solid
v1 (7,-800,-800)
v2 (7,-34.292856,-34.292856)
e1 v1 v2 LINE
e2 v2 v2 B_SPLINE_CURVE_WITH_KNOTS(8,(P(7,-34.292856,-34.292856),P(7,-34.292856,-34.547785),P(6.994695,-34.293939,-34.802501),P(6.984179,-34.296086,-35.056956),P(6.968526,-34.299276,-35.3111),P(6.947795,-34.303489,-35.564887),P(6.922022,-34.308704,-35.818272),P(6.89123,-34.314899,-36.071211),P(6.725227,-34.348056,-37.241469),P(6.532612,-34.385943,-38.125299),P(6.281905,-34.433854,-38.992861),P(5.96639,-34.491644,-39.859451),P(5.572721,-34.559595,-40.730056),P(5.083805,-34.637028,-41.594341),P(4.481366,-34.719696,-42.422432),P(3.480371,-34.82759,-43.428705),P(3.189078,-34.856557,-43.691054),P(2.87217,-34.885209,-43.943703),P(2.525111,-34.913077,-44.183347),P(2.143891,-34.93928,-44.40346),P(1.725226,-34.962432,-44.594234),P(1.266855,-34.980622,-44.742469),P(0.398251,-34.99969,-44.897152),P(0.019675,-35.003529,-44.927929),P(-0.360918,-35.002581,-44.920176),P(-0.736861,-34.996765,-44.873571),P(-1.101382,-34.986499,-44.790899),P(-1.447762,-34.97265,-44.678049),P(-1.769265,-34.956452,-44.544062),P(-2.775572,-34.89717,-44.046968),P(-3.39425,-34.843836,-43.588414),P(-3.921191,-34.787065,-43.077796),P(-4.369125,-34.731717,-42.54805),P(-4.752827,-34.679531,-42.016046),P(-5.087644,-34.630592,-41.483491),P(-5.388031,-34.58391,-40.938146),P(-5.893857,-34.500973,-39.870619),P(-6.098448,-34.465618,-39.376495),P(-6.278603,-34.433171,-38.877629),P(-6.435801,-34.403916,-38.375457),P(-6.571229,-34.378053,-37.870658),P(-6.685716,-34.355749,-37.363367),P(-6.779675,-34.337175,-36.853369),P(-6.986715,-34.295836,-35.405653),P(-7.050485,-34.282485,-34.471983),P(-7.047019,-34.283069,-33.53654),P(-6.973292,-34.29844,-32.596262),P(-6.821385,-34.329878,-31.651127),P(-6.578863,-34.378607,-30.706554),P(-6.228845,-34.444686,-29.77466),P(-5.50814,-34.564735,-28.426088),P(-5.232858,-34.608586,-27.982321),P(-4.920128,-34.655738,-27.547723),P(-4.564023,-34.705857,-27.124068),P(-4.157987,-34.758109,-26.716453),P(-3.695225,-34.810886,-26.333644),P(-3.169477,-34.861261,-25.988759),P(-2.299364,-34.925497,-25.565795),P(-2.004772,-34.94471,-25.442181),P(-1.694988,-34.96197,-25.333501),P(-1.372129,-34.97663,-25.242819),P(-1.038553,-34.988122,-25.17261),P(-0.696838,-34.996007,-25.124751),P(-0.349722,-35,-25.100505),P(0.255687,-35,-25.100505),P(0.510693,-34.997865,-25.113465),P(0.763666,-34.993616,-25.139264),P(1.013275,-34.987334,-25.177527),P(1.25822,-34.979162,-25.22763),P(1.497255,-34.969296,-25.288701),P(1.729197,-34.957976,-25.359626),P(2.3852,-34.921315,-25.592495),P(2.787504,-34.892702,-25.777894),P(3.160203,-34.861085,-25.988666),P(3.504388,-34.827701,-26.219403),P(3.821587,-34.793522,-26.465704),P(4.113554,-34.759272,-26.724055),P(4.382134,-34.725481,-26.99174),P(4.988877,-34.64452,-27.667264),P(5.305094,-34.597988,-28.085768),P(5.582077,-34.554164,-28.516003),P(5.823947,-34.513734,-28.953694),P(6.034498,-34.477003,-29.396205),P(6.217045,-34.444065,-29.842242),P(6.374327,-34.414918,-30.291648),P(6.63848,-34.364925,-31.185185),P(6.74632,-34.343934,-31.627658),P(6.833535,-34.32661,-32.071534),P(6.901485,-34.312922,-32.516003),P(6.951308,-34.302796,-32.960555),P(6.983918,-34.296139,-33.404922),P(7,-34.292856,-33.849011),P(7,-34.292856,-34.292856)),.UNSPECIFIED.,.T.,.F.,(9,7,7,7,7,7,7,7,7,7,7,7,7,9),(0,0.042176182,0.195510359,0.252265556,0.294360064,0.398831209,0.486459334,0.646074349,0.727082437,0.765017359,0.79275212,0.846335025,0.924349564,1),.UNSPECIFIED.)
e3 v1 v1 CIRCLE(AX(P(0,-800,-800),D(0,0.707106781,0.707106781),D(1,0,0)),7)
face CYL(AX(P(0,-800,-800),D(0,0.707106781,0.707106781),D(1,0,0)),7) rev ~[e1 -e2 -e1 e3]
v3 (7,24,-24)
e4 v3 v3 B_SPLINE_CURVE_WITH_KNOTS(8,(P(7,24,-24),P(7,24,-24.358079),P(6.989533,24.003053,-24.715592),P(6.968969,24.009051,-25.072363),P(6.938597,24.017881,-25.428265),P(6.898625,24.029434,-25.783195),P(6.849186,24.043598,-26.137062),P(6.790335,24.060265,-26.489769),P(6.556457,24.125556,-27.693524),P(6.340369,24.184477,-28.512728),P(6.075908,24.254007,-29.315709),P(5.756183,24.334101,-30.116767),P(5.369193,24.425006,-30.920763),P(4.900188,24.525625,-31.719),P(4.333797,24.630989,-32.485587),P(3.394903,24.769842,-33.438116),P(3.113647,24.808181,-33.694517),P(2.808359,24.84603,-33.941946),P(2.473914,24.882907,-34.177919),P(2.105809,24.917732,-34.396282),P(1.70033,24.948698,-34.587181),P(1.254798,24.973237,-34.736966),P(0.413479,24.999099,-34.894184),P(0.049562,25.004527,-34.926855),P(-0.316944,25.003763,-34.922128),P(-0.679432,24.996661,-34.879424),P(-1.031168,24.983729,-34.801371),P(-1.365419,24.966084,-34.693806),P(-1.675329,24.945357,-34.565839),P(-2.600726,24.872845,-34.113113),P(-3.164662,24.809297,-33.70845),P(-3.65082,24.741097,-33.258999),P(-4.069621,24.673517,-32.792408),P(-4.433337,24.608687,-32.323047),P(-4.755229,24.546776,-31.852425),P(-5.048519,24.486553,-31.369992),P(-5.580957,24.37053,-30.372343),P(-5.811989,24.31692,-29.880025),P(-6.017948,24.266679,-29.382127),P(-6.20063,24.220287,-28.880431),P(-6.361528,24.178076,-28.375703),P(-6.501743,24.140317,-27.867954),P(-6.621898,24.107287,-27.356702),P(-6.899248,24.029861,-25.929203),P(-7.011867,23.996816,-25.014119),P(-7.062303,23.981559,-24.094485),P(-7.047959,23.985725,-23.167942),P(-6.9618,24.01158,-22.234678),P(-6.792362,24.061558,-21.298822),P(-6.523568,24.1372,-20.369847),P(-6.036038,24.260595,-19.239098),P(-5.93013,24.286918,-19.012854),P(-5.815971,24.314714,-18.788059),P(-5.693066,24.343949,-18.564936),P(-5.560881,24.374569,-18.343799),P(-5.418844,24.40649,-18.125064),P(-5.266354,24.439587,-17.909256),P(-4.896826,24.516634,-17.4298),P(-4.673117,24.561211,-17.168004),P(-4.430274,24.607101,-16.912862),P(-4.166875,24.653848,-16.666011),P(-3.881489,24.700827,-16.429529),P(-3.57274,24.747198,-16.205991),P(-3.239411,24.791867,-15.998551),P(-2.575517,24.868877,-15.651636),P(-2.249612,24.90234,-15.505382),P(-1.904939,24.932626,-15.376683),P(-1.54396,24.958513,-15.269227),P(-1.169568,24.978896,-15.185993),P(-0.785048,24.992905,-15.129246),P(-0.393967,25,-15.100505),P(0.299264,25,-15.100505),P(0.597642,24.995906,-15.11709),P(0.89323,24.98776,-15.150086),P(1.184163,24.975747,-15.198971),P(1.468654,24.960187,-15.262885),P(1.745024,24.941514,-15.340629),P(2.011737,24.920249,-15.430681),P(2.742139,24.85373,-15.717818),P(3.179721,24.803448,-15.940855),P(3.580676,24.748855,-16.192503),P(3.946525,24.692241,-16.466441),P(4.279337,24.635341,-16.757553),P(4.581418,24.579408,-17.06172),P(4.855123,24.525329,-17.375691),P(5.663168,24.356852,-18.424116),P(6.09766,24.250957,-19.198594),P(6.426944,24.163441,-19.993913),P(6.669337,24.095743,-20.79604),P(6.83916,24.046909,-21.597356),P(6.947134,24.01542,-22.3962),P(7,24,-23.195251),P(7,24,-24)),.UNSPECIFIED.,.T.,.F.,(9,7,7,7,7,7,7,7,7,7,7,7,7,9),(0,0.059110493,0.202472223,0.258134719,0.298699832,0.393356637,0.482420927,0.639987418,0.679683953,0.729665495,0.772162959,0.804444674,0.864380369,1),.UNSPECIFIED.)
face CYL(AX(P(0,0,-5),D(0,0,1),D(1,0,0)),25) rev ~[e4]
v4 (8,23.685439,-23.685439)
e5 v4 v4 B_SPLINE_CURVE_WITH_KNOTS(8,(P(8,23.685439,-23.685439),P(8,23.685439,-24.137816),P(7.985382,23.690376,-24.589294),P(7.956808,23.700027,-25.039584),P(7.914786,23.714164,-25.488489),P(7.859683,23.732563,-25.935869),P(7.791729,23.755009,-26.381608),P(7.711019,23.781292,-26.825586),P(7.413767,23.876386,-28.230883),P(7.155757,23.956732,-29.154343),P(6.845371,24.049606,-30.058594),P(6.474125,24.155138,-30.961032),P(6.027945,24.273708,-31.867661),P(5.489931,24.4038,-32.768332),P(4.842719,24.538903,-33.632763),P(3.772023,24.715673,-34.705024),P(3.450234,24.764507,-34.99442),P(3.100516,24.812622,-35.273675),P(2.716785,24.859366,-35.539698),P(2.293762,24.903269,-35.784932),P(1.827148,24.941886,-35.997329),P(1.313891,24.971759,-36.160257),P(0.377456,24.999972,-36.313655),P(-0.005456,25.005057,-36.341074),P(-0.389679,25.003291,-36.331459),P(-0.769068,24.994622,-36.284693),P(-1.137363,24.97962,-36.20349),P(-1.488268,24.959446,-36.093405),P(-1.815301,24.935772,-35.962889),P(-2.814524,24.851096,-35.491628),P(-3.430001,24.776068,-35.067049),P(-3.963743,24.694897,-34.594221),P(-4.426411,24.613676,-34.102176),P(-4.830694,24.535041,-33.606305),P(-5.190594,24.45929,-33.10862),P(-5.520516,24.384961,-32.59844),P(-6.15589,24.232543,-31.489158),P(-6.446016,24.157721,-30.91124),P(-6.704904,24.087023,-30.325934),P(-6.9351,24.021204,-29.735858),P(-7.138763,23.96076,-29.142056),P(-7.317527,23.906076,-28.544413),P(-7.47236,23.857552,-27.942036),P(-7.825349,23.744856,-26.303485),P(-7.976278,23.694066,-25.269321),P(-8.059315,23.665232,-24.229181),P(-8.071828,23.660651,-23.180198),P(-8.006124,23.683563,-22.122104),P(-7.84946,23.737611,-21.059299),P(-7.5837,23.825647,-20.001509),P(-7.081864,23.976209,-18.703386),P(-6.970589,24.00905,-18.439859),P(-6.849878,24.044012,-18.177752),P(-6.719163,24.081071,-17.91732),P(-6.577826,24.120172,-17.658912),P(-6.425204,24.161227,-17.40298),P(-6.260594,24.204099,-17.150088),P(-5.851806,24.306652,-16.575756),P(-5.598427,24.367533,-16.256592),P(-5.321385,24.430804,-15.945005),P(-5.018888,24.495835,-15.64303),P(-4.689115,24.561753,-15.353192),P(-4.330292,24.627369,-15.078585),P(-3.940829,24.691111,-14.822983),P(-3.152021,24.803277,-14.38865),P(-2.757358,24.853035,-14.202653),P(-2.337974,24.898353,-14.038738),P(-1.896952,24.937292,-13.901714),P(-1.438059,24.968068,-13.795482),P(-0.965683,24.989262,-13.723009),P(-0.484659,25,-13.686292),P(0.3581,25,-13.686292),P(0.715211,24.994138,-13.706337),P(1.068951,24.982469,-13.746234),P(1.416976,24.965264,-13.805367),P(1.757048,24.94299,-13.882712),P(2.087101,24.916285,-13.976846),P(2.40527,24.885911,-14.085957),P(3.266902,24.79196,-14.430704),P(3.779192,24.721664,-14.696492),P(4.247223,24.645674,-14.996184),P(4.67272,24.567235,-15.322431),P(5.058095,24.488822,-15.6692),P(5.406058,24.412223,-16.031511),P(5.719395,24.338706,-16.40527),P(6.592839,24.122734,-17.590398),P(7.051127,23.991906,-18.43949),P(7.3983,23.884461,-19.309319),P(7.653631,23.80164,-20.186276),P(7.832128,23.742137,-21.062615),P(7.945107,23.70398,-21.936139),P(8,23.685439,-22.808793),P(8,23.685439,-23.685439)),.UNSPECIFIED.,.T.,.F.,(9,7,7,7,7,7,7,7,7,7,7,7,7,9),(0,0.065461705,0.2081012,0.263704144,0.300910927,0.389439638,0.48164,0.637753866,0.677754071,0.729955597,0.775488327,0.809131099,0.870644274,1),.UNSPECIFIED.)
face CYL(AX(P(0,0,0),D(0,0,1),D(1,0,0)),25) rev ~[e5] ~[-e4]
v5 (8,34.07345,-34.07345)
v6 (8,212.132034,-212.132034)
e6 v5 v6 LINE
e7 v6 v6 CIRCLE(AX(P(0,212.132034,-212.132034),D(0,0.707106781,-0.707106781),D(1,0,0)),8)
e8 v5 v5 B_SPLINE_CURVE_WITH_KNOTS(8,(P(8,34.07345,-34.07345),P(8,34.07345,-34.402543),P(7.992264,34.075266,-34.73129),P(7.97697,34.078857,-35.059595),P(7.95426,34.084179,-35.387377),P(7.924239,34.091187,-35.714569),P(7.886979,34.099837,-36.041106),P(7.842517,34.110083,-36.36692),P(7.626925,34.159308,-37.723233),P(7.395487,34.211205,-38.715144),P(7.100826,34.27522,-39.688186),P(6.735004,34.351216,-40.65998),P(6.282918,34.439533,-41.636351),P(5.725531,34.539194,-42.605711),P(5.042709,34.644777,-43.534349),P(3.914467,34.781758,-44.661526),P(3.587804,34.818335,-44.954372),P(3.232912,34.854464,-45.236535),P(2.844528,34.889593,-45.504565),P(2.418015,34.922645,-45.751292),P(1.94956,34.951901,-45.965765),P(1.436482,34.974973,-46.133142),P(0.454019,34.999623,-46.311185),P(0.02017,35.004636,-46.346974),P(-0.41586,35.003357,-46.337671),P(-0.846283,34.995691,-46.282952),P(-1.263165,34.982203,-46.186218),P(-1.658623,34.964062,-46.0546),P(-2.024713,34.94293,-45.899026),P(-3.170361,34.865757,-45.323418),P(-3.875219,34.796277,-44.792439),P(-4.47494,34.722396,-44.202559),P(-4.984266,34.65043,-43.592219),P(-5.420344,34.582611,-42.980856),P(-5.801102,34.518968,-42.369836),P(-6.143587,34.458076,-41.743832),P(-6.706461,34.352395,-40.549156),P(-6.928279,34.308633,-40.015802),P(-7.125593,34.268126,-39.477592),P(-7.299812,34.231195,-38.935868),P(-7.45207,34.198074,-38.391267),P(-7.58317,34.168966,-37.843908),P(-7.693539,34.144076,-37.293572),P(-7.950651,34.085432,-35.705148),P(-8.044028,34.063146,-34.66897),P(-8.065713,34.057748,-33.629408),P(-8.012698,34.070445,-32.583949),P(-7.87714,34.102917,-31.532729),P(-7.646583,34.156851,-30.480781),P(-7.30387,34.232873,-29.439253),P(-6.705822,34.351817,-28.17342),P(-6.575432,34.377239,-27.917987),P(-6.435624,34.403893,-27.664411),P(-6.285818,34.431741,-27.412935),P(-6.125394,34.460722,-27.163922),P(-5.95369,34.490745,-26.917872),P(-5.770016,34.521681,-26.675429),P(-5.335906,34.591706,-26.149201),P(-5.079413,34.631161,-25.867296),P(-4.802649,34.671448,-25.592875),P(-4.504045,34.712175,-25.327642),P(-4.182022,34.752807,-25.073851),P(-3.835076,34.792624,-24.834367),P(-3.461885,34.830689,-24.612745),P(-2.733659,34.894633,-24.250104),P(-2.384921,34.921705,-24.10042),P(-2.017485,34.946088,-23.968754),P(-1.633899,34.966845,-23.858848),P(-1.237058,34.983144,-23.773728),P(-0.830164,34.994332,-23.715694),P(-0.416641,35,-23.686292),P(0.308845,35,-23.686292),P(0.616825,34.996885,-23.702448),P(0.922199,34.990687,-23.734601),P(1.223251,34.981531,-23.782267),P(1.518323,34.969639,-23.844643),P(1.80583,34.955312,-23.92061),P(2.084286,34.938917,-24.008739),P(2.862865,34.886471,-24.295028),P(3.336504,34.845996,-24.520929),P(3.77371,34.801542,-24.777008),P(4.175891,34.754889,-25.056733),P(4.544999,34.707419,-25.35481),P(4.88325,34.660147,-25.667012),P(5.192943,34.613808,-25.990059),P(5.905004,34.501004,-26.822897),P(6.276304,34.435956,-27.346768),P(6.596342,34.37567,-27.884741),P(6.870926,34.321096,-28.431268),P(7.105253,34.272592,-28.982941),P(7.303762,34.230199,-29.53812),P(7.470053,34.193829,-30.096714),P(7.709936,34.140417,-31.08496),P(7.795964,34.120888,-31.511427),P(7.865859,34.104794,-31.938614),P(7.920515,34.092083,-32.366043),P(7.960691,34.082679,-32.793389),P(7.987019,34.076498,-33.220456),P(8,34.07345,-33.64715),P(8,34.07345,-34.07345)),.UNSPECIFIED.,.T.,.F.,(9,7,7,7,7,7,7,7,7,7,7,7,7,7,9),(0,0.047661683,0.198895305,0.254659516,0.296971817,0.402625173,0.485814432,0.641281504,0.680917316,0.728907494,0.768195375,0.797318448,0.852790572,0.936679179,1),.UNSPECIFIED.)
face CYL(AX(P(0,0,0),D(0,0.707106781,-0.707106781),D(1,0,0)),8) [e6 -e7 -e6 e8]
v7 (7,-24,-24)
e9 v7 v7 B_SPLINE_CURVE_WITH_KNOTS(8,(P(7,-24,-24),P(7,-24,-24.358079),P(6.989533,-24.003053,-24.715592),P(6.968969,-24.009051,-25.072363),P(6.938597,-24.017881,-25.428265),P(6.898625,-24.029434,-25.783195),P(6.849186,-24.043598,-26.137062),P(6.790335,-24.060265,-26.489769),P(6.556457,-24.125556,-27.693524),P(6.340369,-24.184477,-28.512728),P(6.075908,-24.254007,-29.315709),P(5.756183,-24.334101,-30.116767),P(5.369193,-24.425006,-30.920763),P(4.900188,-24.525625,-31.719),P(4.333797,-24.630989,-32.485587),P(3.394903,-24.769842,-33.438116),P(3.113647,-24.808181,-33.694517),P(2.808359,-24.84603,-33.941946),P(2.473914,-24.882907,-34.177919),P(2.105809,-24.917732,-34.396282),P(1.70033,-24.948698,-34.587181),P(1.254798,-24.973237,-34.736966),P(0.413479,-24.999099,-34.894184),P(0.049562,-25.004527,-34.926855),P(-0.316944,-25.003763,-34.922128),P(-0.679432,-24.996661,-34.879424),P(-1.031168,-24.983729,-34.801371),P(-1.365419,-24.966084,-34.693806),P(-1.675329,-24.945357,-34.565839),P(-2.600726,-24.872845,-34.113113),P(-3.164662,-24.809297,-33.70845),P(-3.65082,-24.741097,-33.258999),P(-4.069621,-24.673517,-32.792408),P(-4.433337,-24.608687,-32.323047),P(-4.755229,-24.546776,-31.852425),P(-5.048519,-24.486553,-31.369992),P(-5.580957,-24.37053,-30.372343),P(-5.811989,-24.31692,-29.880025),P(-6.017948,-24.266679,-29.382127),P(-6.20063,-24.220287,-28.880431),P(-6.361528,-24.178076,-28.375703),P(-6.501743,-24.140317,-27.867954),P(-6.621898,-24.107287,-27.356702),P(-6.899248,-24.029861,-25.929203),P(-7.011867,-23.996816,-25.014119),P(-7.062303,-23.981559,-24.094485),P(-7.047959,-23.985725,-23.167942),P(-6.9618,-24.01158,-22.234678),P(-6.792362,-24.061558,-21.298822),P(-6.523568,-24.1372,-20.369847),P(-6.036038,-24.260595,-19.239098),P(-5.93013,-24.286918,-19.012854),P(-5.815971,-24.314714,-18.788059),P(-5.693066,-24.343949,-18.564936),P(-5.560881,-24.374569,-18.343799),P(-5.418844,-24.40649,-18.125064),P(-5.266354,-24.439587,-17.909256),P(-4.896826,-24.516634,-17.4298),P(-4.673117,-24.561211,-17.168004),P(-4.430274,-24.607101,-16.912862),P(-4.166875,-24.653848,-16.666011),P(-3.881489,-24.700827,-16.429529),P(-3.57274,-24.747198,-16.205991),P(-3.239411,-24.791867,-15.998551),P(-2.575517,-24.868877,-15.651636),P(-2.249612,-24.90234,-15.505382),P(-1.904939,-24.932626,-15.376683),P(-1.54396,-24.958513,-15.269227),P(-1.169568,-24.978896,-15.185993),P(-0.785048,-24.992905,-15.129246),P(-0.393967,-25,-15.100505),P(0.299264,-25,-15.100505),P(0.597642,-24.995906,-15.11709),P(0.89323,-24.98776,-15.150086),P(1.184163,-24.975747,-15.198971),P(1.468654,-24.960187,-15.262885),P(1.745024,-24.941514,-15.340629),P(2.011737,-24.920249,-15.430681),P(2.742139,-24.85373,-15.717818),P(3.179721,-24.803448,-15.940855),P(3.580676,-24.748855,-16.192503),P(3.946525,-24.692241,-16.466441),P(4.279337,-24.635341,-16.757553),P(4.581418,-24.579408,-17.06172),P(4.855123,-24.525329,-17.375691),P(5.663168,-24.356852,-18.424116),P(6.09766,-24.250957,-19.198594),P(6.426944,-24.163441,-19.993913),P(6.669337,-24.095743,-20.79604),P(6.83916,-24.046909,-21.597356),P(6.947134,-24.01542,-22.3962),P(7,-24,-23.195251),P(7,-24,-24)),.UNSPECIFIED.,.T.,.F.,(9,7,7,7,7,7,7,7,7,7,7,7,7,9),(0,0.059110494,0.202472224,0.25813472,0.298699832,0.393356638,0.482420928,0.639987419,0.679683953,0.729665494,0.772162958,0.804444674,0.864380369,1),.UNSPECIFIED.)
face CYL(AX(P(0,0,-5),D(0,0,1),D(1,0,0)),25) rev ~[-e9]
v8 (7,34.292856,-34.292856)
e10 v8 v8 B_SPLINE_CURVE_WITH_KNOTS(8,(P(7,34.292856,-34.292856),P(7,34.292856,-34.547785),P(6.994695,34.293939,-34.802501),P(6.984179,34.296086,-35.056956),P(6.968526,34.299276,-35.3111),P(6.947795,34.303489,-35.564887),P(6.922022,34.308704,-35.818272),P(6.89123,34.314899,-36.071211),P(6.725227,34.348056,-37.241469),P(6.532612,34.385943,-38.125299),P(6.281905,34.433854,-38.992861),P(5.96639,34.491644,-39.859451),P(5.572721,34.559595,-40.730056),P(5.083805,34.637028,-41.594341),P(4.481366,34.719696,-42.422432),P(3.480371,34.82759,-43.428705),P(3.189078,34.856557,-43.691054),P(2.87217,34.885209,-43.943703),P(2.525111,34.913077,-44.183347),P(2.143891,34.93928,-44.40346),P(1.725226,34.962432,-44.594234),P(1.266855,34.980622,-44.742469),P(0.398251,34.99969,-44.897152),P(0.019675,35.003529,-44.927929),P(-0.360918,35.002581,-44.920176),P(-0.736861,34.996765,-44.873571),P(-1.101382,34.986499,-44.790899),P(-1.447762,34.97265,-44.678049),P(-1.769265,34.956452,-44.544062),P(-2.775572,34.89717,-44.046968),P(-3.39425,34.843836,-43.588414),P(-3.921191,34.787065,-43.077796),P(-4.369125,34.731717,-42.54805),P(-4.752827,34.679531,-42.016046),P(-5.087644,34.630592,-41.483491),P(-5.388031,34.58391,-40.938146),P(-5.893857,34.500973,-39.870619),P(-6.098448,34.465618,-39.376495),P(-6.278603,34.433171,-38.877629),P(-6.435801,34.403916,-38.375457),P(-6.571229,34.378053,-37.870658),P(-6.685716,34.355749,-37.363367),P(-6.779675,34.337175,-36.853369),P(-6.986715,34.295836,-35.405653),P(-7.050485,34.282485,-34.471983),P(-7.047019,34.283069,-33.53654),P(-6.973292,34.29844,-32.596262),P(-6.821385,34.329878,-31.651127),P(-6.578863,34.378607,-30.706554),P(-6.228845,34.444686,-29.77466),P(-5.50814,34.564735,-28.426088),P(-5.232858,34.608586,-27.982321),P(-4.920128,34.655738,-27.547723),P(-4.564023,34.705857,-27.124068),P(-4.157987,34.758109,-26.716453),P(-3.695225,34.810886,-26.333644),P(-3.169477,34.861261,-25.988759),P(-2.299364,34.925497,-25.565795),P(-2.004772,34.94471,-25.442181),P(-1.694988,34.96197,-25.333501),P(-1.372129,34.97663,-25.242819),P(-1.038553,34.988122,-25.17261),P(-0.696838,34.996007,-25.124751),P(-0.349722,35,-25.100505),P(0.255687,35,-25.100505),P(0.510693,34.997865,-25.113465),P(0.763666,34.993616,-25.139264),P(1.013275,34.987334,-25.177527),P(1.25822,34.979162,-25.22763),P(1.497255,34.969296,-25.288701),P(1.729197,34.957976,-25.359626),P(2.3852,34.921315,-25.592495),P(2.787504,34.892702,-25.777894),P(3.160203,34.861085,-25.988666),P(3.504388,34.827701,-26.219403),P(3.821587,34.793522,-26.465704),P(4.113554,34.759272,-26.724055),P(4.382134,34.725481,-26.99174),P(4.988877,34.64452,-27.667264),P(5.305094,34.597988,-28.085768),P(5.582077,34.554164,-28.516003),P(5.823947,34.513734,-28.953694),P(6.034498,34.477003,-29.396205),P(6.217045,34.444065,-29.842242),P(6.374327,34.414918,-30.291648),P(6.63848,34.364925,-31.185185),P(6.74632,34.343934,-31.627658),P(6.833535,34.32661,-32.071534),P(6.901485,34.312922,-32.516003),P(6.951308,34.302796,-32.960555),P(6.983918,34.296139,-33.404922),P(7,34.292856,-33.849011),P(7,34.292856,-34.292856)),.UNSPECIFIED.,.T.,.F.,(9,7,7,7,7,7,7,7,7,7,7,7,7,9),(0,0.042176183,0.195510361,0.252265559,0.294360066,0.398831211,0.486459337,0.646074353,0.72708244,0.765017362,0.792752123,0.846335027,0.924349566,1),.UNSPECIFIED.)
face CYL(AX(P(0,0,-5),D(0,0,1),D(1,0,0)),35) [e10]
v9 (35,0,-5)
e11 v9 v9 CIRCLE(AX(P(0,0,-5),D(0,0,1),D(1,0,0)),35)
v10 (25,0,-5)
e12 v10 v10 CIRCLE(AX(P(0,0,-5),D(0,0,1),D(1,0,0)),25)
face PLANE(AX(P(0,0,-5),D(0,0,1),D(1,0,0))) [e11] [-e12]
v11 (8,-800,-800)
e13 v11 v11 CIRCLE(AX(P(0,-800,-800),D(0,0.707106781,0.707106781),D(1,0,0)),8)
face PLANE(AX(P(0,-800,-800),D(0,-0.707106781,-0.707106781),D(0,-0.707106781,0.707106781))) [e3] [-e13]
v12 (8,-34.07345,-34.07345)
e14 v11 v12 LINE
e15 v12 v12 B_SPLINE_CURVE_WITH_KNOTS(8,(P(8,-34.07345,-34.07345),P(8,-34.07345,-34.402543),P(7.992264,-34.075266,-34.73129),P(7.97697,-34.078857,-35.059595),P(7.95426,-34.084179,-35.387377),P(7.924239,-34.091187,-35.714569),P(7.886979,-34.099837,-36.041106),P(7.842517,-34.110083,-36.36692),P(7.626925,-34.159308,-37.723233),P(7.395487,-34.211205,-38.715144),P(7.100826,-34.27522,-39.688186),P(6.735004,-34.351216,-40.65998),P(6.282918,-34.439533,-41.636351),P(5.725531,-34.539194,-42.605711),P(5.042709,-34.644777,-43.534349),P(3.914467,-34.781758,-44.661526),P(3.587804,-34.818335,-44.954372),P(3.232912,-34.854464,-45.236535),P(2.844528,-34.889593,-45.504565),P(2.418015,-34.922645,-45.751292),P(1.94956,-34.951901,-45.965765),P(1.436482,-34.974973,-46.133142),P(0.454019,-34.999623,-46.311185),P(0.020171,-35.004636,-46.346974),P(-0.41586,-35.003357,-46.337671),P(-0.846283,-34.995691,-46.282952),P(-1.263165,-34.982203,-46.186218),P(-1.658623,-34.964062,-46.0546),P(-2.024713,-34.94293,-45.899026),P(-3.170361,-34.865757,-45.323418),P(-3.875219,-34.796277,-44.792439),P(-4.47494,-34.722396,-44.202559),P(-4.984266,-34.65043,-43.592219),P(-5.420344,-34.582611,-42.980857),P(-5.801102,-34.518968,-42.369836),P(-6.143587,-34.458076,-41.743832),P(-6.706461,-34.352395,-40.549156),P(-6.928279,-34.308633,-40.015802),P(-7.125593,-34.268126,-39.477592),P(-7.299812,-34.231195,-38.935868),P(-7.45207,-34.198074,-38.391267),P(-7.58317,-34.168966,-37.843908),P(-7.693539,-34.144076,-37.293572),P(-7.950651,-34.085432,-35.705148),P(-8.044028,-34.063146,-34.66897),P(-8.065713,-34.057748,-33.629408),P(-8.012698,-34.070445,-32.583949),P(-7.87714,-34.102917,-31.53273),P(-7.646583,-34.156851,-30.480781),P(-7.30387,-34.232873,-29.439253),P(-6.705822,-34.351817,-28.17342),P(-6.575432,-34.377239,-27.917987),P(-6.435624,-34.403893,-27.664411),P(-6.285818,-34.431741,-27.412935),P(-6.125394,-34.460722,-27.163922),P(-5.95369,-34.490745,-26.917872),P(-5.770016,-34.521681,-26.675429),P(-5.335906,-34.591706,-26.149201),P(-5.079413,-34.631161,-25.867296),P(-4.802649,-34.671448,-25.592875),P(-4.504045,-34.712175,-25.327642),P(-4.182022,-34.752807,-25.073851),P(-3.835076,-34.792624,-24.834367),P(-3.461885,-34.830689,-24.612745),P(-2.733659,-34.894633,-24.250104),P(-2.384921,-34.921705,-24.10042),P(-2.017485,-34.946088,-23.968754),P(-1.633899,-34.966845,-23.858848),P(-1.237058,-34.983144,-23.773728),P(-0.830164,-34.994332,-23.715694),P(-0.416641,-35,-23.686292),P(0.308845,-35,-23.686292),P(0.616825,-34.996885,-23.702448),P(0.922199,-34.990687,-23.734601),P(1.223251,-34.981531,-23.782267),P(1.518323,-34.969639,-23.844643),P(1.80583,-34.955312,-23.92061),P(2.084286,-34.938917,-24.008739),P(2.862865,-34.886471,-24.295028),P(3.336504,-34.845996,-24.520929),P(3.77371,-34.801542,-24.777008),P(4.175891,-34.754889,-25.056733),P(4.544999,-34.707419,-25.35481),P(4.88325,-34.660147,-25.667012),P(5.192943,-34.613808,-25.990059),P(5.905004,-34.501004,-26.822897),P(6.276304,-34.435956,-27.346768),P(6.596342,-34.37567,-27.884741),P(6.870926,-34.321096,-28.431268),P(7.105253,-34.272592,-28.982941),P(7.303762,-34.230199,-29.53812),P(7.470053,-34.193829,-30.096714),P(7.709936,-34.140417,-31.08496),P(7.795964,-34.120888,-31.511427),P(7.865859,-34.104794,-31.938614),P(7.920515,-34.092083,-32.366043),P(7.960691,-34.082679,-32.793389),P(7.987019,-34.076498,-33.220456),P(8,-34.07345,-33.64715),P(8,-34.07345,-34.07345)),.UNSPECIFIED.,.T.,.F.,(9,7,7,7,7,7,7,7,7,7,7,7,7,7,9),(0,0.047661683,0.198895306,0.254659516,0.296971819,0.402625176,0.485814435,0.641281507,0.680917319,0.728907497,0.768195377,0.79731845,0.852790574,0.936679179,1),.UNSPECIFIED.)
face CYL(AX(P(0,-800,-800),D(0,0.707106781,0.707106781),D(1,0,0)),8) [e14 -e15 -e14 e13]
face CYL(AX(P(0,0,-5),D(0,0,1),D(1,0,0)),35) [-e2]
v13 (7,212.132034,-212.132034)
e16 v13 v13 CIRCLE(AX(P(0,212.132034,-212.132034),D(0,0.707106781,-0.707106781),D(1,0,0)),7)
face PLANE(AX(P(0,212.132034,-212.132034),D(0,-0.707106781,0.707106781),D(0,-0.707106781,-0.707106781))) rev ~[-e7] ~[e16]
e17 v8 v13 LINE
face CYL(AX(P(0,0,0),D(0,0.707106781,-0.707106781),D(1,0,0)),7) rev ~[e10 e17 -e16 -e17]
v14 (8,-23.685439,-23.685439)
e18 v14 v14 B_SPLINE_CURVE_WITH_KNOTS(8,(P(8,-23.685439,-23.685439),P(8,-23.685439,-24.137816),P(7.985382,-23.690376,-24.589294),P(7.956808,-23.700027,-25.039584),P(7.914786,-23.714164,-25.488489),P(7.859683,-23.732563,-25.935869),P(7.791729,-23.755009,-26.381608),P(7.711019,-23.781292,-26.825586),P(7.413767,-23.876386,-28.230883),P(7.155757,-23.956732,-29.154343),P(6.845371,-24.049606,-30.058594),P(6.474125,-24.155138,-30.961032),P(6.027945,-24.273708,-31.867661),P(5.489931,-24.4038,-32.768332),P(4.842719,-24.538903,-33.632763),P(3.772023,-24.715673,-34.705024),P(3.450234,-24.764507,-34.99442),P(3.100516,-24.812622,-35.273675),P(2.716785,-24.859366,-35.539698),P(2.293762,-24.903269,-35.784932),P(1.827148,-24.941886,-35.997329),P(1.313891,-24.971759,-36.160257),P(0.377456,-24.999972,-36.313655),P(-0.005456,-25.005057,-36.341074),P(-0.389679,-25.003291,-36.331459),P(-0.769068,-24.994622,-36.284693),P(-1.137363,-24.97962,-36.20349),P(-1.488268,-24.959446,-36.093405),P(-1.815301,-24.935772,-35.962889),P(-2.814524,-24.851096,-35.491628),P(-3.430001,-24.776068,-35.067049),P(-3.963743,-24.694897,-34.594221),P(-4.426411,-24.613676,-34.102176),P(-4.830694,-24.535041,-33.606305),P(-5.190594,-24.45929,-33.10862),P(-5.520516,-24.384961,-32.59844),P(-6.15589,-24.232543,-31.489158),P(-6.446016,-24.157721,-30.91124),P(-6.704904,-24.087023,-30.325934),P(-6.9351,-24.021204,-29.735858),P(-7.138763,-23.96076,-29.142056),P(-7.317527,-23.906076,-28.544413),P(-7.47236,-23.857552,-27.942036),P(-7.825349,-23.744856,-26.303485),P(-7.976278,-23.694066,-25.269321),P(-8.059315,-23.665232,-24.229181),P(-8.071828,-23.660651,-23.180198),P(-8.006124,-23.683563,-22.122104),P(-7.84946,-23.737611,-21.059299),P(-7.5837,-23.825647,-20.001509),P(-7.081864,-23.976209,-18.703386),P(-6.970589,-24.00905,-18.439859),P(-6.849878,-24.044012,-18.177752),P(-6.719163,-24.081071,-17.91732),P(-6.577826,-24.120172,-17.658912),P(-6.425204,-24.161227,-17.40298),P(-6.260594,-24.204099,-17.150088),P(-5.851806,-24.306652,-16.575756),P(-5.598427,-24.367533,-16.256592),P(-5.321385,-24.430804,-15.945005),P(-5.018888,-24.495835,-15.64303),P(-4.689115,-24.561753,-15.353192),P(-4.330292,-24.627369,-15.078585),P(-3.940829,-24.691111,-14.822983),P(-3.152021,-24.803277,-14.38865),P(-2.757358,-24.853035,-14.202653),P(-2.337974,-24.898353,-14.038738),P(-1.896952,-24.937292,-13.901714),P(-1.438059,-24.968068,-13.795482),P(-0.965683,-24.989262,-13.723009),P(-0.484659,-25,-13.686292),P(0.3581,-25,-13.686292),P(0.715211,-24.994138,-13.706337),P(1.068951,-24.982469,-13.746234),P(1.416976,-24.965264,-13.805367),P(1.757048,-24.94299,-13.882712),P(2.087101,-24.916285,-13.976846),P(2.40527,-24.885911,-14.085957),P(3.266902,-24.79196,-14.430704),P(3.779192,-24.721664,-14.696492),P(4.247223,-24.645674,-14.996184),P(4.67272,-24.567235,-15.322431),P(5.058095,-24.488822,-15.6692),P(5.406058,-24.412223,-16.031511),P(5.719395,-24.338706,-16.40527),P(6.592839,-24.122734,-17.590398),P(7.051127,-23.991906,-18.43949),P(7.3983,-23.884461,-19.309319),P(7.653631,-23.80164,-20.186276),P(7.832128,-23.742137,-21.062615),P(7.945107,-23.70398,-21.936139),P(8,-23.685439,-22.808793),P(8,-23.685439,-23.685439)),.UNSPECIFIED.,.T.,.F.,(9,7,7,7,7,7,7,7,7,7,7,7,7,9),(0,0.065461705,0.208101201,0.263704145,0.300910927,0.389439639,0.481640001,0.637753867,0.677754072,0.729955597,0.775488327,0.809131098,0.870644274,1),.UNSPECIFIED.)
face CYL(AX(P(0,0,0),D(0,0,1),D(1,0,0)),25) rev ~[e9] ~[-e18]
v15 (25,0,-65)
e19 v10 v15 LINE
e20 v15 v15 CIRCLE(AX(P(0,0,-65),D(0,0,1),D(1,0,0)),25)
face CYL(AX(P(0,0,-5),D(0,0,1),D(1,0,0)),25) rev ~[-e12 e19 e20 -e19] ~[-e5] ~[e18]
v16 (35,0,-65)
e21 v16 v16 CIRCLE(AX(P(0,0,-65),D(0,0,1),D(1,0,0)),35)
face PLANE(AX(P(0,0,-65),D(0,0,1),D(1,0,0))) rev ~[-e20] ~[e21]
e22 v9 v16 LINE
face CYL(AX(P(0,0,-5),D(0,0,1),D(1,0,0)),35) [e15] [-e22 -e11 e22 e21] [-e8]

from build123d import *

# Parameters (mm, degrees)
F2_R     = 8
F2_R_2   = 7
F4_R     = 25
F5_DEPTH = 40
F7_START = -5
F6_R     = 35
F6_R_2   = 25
F7_DEPTH = 60


with BuildPart() as f3:
    # F3: sweep along a path in F0
    with BuildLine(Plane.YZ) as f3_path:
        Line((-800, -800), (0, 0))
        Line((0, 0), (212.132034356, -212.132034356))
    # F2 (on line) → F3 (sweep)
    with BuildSketch(Plane(origin=(0, -800, -800), x_dir=(1, 0, 0), z_dir=(0, -0.7071067812, -0.7071067812))):
        Circle(F2_R)
        Circle(F2_R_2, mode=Mode.SUBTRACT)
    sweep(path=f3_path.line, transition=Transition.RIGHT)

    # F4 (on Top) → F5 (cut, symmetric)
    with BuildSketch(Plane.XY):
        Circle(F4_R)
    extrude(amount=F5_DEPTH, both=True, mode=Mode.SUBTRACT)

    # F6 (on Top) → F7 (join)
    with BuildSketch(Plane.XY.offset(F7_START)):
        Circle(F6_R)
        Circle(F6_R_2, mode=Mode.SUBTRACT)
    extrude(amount=-F7_DEPTH)


solid = f3.part
